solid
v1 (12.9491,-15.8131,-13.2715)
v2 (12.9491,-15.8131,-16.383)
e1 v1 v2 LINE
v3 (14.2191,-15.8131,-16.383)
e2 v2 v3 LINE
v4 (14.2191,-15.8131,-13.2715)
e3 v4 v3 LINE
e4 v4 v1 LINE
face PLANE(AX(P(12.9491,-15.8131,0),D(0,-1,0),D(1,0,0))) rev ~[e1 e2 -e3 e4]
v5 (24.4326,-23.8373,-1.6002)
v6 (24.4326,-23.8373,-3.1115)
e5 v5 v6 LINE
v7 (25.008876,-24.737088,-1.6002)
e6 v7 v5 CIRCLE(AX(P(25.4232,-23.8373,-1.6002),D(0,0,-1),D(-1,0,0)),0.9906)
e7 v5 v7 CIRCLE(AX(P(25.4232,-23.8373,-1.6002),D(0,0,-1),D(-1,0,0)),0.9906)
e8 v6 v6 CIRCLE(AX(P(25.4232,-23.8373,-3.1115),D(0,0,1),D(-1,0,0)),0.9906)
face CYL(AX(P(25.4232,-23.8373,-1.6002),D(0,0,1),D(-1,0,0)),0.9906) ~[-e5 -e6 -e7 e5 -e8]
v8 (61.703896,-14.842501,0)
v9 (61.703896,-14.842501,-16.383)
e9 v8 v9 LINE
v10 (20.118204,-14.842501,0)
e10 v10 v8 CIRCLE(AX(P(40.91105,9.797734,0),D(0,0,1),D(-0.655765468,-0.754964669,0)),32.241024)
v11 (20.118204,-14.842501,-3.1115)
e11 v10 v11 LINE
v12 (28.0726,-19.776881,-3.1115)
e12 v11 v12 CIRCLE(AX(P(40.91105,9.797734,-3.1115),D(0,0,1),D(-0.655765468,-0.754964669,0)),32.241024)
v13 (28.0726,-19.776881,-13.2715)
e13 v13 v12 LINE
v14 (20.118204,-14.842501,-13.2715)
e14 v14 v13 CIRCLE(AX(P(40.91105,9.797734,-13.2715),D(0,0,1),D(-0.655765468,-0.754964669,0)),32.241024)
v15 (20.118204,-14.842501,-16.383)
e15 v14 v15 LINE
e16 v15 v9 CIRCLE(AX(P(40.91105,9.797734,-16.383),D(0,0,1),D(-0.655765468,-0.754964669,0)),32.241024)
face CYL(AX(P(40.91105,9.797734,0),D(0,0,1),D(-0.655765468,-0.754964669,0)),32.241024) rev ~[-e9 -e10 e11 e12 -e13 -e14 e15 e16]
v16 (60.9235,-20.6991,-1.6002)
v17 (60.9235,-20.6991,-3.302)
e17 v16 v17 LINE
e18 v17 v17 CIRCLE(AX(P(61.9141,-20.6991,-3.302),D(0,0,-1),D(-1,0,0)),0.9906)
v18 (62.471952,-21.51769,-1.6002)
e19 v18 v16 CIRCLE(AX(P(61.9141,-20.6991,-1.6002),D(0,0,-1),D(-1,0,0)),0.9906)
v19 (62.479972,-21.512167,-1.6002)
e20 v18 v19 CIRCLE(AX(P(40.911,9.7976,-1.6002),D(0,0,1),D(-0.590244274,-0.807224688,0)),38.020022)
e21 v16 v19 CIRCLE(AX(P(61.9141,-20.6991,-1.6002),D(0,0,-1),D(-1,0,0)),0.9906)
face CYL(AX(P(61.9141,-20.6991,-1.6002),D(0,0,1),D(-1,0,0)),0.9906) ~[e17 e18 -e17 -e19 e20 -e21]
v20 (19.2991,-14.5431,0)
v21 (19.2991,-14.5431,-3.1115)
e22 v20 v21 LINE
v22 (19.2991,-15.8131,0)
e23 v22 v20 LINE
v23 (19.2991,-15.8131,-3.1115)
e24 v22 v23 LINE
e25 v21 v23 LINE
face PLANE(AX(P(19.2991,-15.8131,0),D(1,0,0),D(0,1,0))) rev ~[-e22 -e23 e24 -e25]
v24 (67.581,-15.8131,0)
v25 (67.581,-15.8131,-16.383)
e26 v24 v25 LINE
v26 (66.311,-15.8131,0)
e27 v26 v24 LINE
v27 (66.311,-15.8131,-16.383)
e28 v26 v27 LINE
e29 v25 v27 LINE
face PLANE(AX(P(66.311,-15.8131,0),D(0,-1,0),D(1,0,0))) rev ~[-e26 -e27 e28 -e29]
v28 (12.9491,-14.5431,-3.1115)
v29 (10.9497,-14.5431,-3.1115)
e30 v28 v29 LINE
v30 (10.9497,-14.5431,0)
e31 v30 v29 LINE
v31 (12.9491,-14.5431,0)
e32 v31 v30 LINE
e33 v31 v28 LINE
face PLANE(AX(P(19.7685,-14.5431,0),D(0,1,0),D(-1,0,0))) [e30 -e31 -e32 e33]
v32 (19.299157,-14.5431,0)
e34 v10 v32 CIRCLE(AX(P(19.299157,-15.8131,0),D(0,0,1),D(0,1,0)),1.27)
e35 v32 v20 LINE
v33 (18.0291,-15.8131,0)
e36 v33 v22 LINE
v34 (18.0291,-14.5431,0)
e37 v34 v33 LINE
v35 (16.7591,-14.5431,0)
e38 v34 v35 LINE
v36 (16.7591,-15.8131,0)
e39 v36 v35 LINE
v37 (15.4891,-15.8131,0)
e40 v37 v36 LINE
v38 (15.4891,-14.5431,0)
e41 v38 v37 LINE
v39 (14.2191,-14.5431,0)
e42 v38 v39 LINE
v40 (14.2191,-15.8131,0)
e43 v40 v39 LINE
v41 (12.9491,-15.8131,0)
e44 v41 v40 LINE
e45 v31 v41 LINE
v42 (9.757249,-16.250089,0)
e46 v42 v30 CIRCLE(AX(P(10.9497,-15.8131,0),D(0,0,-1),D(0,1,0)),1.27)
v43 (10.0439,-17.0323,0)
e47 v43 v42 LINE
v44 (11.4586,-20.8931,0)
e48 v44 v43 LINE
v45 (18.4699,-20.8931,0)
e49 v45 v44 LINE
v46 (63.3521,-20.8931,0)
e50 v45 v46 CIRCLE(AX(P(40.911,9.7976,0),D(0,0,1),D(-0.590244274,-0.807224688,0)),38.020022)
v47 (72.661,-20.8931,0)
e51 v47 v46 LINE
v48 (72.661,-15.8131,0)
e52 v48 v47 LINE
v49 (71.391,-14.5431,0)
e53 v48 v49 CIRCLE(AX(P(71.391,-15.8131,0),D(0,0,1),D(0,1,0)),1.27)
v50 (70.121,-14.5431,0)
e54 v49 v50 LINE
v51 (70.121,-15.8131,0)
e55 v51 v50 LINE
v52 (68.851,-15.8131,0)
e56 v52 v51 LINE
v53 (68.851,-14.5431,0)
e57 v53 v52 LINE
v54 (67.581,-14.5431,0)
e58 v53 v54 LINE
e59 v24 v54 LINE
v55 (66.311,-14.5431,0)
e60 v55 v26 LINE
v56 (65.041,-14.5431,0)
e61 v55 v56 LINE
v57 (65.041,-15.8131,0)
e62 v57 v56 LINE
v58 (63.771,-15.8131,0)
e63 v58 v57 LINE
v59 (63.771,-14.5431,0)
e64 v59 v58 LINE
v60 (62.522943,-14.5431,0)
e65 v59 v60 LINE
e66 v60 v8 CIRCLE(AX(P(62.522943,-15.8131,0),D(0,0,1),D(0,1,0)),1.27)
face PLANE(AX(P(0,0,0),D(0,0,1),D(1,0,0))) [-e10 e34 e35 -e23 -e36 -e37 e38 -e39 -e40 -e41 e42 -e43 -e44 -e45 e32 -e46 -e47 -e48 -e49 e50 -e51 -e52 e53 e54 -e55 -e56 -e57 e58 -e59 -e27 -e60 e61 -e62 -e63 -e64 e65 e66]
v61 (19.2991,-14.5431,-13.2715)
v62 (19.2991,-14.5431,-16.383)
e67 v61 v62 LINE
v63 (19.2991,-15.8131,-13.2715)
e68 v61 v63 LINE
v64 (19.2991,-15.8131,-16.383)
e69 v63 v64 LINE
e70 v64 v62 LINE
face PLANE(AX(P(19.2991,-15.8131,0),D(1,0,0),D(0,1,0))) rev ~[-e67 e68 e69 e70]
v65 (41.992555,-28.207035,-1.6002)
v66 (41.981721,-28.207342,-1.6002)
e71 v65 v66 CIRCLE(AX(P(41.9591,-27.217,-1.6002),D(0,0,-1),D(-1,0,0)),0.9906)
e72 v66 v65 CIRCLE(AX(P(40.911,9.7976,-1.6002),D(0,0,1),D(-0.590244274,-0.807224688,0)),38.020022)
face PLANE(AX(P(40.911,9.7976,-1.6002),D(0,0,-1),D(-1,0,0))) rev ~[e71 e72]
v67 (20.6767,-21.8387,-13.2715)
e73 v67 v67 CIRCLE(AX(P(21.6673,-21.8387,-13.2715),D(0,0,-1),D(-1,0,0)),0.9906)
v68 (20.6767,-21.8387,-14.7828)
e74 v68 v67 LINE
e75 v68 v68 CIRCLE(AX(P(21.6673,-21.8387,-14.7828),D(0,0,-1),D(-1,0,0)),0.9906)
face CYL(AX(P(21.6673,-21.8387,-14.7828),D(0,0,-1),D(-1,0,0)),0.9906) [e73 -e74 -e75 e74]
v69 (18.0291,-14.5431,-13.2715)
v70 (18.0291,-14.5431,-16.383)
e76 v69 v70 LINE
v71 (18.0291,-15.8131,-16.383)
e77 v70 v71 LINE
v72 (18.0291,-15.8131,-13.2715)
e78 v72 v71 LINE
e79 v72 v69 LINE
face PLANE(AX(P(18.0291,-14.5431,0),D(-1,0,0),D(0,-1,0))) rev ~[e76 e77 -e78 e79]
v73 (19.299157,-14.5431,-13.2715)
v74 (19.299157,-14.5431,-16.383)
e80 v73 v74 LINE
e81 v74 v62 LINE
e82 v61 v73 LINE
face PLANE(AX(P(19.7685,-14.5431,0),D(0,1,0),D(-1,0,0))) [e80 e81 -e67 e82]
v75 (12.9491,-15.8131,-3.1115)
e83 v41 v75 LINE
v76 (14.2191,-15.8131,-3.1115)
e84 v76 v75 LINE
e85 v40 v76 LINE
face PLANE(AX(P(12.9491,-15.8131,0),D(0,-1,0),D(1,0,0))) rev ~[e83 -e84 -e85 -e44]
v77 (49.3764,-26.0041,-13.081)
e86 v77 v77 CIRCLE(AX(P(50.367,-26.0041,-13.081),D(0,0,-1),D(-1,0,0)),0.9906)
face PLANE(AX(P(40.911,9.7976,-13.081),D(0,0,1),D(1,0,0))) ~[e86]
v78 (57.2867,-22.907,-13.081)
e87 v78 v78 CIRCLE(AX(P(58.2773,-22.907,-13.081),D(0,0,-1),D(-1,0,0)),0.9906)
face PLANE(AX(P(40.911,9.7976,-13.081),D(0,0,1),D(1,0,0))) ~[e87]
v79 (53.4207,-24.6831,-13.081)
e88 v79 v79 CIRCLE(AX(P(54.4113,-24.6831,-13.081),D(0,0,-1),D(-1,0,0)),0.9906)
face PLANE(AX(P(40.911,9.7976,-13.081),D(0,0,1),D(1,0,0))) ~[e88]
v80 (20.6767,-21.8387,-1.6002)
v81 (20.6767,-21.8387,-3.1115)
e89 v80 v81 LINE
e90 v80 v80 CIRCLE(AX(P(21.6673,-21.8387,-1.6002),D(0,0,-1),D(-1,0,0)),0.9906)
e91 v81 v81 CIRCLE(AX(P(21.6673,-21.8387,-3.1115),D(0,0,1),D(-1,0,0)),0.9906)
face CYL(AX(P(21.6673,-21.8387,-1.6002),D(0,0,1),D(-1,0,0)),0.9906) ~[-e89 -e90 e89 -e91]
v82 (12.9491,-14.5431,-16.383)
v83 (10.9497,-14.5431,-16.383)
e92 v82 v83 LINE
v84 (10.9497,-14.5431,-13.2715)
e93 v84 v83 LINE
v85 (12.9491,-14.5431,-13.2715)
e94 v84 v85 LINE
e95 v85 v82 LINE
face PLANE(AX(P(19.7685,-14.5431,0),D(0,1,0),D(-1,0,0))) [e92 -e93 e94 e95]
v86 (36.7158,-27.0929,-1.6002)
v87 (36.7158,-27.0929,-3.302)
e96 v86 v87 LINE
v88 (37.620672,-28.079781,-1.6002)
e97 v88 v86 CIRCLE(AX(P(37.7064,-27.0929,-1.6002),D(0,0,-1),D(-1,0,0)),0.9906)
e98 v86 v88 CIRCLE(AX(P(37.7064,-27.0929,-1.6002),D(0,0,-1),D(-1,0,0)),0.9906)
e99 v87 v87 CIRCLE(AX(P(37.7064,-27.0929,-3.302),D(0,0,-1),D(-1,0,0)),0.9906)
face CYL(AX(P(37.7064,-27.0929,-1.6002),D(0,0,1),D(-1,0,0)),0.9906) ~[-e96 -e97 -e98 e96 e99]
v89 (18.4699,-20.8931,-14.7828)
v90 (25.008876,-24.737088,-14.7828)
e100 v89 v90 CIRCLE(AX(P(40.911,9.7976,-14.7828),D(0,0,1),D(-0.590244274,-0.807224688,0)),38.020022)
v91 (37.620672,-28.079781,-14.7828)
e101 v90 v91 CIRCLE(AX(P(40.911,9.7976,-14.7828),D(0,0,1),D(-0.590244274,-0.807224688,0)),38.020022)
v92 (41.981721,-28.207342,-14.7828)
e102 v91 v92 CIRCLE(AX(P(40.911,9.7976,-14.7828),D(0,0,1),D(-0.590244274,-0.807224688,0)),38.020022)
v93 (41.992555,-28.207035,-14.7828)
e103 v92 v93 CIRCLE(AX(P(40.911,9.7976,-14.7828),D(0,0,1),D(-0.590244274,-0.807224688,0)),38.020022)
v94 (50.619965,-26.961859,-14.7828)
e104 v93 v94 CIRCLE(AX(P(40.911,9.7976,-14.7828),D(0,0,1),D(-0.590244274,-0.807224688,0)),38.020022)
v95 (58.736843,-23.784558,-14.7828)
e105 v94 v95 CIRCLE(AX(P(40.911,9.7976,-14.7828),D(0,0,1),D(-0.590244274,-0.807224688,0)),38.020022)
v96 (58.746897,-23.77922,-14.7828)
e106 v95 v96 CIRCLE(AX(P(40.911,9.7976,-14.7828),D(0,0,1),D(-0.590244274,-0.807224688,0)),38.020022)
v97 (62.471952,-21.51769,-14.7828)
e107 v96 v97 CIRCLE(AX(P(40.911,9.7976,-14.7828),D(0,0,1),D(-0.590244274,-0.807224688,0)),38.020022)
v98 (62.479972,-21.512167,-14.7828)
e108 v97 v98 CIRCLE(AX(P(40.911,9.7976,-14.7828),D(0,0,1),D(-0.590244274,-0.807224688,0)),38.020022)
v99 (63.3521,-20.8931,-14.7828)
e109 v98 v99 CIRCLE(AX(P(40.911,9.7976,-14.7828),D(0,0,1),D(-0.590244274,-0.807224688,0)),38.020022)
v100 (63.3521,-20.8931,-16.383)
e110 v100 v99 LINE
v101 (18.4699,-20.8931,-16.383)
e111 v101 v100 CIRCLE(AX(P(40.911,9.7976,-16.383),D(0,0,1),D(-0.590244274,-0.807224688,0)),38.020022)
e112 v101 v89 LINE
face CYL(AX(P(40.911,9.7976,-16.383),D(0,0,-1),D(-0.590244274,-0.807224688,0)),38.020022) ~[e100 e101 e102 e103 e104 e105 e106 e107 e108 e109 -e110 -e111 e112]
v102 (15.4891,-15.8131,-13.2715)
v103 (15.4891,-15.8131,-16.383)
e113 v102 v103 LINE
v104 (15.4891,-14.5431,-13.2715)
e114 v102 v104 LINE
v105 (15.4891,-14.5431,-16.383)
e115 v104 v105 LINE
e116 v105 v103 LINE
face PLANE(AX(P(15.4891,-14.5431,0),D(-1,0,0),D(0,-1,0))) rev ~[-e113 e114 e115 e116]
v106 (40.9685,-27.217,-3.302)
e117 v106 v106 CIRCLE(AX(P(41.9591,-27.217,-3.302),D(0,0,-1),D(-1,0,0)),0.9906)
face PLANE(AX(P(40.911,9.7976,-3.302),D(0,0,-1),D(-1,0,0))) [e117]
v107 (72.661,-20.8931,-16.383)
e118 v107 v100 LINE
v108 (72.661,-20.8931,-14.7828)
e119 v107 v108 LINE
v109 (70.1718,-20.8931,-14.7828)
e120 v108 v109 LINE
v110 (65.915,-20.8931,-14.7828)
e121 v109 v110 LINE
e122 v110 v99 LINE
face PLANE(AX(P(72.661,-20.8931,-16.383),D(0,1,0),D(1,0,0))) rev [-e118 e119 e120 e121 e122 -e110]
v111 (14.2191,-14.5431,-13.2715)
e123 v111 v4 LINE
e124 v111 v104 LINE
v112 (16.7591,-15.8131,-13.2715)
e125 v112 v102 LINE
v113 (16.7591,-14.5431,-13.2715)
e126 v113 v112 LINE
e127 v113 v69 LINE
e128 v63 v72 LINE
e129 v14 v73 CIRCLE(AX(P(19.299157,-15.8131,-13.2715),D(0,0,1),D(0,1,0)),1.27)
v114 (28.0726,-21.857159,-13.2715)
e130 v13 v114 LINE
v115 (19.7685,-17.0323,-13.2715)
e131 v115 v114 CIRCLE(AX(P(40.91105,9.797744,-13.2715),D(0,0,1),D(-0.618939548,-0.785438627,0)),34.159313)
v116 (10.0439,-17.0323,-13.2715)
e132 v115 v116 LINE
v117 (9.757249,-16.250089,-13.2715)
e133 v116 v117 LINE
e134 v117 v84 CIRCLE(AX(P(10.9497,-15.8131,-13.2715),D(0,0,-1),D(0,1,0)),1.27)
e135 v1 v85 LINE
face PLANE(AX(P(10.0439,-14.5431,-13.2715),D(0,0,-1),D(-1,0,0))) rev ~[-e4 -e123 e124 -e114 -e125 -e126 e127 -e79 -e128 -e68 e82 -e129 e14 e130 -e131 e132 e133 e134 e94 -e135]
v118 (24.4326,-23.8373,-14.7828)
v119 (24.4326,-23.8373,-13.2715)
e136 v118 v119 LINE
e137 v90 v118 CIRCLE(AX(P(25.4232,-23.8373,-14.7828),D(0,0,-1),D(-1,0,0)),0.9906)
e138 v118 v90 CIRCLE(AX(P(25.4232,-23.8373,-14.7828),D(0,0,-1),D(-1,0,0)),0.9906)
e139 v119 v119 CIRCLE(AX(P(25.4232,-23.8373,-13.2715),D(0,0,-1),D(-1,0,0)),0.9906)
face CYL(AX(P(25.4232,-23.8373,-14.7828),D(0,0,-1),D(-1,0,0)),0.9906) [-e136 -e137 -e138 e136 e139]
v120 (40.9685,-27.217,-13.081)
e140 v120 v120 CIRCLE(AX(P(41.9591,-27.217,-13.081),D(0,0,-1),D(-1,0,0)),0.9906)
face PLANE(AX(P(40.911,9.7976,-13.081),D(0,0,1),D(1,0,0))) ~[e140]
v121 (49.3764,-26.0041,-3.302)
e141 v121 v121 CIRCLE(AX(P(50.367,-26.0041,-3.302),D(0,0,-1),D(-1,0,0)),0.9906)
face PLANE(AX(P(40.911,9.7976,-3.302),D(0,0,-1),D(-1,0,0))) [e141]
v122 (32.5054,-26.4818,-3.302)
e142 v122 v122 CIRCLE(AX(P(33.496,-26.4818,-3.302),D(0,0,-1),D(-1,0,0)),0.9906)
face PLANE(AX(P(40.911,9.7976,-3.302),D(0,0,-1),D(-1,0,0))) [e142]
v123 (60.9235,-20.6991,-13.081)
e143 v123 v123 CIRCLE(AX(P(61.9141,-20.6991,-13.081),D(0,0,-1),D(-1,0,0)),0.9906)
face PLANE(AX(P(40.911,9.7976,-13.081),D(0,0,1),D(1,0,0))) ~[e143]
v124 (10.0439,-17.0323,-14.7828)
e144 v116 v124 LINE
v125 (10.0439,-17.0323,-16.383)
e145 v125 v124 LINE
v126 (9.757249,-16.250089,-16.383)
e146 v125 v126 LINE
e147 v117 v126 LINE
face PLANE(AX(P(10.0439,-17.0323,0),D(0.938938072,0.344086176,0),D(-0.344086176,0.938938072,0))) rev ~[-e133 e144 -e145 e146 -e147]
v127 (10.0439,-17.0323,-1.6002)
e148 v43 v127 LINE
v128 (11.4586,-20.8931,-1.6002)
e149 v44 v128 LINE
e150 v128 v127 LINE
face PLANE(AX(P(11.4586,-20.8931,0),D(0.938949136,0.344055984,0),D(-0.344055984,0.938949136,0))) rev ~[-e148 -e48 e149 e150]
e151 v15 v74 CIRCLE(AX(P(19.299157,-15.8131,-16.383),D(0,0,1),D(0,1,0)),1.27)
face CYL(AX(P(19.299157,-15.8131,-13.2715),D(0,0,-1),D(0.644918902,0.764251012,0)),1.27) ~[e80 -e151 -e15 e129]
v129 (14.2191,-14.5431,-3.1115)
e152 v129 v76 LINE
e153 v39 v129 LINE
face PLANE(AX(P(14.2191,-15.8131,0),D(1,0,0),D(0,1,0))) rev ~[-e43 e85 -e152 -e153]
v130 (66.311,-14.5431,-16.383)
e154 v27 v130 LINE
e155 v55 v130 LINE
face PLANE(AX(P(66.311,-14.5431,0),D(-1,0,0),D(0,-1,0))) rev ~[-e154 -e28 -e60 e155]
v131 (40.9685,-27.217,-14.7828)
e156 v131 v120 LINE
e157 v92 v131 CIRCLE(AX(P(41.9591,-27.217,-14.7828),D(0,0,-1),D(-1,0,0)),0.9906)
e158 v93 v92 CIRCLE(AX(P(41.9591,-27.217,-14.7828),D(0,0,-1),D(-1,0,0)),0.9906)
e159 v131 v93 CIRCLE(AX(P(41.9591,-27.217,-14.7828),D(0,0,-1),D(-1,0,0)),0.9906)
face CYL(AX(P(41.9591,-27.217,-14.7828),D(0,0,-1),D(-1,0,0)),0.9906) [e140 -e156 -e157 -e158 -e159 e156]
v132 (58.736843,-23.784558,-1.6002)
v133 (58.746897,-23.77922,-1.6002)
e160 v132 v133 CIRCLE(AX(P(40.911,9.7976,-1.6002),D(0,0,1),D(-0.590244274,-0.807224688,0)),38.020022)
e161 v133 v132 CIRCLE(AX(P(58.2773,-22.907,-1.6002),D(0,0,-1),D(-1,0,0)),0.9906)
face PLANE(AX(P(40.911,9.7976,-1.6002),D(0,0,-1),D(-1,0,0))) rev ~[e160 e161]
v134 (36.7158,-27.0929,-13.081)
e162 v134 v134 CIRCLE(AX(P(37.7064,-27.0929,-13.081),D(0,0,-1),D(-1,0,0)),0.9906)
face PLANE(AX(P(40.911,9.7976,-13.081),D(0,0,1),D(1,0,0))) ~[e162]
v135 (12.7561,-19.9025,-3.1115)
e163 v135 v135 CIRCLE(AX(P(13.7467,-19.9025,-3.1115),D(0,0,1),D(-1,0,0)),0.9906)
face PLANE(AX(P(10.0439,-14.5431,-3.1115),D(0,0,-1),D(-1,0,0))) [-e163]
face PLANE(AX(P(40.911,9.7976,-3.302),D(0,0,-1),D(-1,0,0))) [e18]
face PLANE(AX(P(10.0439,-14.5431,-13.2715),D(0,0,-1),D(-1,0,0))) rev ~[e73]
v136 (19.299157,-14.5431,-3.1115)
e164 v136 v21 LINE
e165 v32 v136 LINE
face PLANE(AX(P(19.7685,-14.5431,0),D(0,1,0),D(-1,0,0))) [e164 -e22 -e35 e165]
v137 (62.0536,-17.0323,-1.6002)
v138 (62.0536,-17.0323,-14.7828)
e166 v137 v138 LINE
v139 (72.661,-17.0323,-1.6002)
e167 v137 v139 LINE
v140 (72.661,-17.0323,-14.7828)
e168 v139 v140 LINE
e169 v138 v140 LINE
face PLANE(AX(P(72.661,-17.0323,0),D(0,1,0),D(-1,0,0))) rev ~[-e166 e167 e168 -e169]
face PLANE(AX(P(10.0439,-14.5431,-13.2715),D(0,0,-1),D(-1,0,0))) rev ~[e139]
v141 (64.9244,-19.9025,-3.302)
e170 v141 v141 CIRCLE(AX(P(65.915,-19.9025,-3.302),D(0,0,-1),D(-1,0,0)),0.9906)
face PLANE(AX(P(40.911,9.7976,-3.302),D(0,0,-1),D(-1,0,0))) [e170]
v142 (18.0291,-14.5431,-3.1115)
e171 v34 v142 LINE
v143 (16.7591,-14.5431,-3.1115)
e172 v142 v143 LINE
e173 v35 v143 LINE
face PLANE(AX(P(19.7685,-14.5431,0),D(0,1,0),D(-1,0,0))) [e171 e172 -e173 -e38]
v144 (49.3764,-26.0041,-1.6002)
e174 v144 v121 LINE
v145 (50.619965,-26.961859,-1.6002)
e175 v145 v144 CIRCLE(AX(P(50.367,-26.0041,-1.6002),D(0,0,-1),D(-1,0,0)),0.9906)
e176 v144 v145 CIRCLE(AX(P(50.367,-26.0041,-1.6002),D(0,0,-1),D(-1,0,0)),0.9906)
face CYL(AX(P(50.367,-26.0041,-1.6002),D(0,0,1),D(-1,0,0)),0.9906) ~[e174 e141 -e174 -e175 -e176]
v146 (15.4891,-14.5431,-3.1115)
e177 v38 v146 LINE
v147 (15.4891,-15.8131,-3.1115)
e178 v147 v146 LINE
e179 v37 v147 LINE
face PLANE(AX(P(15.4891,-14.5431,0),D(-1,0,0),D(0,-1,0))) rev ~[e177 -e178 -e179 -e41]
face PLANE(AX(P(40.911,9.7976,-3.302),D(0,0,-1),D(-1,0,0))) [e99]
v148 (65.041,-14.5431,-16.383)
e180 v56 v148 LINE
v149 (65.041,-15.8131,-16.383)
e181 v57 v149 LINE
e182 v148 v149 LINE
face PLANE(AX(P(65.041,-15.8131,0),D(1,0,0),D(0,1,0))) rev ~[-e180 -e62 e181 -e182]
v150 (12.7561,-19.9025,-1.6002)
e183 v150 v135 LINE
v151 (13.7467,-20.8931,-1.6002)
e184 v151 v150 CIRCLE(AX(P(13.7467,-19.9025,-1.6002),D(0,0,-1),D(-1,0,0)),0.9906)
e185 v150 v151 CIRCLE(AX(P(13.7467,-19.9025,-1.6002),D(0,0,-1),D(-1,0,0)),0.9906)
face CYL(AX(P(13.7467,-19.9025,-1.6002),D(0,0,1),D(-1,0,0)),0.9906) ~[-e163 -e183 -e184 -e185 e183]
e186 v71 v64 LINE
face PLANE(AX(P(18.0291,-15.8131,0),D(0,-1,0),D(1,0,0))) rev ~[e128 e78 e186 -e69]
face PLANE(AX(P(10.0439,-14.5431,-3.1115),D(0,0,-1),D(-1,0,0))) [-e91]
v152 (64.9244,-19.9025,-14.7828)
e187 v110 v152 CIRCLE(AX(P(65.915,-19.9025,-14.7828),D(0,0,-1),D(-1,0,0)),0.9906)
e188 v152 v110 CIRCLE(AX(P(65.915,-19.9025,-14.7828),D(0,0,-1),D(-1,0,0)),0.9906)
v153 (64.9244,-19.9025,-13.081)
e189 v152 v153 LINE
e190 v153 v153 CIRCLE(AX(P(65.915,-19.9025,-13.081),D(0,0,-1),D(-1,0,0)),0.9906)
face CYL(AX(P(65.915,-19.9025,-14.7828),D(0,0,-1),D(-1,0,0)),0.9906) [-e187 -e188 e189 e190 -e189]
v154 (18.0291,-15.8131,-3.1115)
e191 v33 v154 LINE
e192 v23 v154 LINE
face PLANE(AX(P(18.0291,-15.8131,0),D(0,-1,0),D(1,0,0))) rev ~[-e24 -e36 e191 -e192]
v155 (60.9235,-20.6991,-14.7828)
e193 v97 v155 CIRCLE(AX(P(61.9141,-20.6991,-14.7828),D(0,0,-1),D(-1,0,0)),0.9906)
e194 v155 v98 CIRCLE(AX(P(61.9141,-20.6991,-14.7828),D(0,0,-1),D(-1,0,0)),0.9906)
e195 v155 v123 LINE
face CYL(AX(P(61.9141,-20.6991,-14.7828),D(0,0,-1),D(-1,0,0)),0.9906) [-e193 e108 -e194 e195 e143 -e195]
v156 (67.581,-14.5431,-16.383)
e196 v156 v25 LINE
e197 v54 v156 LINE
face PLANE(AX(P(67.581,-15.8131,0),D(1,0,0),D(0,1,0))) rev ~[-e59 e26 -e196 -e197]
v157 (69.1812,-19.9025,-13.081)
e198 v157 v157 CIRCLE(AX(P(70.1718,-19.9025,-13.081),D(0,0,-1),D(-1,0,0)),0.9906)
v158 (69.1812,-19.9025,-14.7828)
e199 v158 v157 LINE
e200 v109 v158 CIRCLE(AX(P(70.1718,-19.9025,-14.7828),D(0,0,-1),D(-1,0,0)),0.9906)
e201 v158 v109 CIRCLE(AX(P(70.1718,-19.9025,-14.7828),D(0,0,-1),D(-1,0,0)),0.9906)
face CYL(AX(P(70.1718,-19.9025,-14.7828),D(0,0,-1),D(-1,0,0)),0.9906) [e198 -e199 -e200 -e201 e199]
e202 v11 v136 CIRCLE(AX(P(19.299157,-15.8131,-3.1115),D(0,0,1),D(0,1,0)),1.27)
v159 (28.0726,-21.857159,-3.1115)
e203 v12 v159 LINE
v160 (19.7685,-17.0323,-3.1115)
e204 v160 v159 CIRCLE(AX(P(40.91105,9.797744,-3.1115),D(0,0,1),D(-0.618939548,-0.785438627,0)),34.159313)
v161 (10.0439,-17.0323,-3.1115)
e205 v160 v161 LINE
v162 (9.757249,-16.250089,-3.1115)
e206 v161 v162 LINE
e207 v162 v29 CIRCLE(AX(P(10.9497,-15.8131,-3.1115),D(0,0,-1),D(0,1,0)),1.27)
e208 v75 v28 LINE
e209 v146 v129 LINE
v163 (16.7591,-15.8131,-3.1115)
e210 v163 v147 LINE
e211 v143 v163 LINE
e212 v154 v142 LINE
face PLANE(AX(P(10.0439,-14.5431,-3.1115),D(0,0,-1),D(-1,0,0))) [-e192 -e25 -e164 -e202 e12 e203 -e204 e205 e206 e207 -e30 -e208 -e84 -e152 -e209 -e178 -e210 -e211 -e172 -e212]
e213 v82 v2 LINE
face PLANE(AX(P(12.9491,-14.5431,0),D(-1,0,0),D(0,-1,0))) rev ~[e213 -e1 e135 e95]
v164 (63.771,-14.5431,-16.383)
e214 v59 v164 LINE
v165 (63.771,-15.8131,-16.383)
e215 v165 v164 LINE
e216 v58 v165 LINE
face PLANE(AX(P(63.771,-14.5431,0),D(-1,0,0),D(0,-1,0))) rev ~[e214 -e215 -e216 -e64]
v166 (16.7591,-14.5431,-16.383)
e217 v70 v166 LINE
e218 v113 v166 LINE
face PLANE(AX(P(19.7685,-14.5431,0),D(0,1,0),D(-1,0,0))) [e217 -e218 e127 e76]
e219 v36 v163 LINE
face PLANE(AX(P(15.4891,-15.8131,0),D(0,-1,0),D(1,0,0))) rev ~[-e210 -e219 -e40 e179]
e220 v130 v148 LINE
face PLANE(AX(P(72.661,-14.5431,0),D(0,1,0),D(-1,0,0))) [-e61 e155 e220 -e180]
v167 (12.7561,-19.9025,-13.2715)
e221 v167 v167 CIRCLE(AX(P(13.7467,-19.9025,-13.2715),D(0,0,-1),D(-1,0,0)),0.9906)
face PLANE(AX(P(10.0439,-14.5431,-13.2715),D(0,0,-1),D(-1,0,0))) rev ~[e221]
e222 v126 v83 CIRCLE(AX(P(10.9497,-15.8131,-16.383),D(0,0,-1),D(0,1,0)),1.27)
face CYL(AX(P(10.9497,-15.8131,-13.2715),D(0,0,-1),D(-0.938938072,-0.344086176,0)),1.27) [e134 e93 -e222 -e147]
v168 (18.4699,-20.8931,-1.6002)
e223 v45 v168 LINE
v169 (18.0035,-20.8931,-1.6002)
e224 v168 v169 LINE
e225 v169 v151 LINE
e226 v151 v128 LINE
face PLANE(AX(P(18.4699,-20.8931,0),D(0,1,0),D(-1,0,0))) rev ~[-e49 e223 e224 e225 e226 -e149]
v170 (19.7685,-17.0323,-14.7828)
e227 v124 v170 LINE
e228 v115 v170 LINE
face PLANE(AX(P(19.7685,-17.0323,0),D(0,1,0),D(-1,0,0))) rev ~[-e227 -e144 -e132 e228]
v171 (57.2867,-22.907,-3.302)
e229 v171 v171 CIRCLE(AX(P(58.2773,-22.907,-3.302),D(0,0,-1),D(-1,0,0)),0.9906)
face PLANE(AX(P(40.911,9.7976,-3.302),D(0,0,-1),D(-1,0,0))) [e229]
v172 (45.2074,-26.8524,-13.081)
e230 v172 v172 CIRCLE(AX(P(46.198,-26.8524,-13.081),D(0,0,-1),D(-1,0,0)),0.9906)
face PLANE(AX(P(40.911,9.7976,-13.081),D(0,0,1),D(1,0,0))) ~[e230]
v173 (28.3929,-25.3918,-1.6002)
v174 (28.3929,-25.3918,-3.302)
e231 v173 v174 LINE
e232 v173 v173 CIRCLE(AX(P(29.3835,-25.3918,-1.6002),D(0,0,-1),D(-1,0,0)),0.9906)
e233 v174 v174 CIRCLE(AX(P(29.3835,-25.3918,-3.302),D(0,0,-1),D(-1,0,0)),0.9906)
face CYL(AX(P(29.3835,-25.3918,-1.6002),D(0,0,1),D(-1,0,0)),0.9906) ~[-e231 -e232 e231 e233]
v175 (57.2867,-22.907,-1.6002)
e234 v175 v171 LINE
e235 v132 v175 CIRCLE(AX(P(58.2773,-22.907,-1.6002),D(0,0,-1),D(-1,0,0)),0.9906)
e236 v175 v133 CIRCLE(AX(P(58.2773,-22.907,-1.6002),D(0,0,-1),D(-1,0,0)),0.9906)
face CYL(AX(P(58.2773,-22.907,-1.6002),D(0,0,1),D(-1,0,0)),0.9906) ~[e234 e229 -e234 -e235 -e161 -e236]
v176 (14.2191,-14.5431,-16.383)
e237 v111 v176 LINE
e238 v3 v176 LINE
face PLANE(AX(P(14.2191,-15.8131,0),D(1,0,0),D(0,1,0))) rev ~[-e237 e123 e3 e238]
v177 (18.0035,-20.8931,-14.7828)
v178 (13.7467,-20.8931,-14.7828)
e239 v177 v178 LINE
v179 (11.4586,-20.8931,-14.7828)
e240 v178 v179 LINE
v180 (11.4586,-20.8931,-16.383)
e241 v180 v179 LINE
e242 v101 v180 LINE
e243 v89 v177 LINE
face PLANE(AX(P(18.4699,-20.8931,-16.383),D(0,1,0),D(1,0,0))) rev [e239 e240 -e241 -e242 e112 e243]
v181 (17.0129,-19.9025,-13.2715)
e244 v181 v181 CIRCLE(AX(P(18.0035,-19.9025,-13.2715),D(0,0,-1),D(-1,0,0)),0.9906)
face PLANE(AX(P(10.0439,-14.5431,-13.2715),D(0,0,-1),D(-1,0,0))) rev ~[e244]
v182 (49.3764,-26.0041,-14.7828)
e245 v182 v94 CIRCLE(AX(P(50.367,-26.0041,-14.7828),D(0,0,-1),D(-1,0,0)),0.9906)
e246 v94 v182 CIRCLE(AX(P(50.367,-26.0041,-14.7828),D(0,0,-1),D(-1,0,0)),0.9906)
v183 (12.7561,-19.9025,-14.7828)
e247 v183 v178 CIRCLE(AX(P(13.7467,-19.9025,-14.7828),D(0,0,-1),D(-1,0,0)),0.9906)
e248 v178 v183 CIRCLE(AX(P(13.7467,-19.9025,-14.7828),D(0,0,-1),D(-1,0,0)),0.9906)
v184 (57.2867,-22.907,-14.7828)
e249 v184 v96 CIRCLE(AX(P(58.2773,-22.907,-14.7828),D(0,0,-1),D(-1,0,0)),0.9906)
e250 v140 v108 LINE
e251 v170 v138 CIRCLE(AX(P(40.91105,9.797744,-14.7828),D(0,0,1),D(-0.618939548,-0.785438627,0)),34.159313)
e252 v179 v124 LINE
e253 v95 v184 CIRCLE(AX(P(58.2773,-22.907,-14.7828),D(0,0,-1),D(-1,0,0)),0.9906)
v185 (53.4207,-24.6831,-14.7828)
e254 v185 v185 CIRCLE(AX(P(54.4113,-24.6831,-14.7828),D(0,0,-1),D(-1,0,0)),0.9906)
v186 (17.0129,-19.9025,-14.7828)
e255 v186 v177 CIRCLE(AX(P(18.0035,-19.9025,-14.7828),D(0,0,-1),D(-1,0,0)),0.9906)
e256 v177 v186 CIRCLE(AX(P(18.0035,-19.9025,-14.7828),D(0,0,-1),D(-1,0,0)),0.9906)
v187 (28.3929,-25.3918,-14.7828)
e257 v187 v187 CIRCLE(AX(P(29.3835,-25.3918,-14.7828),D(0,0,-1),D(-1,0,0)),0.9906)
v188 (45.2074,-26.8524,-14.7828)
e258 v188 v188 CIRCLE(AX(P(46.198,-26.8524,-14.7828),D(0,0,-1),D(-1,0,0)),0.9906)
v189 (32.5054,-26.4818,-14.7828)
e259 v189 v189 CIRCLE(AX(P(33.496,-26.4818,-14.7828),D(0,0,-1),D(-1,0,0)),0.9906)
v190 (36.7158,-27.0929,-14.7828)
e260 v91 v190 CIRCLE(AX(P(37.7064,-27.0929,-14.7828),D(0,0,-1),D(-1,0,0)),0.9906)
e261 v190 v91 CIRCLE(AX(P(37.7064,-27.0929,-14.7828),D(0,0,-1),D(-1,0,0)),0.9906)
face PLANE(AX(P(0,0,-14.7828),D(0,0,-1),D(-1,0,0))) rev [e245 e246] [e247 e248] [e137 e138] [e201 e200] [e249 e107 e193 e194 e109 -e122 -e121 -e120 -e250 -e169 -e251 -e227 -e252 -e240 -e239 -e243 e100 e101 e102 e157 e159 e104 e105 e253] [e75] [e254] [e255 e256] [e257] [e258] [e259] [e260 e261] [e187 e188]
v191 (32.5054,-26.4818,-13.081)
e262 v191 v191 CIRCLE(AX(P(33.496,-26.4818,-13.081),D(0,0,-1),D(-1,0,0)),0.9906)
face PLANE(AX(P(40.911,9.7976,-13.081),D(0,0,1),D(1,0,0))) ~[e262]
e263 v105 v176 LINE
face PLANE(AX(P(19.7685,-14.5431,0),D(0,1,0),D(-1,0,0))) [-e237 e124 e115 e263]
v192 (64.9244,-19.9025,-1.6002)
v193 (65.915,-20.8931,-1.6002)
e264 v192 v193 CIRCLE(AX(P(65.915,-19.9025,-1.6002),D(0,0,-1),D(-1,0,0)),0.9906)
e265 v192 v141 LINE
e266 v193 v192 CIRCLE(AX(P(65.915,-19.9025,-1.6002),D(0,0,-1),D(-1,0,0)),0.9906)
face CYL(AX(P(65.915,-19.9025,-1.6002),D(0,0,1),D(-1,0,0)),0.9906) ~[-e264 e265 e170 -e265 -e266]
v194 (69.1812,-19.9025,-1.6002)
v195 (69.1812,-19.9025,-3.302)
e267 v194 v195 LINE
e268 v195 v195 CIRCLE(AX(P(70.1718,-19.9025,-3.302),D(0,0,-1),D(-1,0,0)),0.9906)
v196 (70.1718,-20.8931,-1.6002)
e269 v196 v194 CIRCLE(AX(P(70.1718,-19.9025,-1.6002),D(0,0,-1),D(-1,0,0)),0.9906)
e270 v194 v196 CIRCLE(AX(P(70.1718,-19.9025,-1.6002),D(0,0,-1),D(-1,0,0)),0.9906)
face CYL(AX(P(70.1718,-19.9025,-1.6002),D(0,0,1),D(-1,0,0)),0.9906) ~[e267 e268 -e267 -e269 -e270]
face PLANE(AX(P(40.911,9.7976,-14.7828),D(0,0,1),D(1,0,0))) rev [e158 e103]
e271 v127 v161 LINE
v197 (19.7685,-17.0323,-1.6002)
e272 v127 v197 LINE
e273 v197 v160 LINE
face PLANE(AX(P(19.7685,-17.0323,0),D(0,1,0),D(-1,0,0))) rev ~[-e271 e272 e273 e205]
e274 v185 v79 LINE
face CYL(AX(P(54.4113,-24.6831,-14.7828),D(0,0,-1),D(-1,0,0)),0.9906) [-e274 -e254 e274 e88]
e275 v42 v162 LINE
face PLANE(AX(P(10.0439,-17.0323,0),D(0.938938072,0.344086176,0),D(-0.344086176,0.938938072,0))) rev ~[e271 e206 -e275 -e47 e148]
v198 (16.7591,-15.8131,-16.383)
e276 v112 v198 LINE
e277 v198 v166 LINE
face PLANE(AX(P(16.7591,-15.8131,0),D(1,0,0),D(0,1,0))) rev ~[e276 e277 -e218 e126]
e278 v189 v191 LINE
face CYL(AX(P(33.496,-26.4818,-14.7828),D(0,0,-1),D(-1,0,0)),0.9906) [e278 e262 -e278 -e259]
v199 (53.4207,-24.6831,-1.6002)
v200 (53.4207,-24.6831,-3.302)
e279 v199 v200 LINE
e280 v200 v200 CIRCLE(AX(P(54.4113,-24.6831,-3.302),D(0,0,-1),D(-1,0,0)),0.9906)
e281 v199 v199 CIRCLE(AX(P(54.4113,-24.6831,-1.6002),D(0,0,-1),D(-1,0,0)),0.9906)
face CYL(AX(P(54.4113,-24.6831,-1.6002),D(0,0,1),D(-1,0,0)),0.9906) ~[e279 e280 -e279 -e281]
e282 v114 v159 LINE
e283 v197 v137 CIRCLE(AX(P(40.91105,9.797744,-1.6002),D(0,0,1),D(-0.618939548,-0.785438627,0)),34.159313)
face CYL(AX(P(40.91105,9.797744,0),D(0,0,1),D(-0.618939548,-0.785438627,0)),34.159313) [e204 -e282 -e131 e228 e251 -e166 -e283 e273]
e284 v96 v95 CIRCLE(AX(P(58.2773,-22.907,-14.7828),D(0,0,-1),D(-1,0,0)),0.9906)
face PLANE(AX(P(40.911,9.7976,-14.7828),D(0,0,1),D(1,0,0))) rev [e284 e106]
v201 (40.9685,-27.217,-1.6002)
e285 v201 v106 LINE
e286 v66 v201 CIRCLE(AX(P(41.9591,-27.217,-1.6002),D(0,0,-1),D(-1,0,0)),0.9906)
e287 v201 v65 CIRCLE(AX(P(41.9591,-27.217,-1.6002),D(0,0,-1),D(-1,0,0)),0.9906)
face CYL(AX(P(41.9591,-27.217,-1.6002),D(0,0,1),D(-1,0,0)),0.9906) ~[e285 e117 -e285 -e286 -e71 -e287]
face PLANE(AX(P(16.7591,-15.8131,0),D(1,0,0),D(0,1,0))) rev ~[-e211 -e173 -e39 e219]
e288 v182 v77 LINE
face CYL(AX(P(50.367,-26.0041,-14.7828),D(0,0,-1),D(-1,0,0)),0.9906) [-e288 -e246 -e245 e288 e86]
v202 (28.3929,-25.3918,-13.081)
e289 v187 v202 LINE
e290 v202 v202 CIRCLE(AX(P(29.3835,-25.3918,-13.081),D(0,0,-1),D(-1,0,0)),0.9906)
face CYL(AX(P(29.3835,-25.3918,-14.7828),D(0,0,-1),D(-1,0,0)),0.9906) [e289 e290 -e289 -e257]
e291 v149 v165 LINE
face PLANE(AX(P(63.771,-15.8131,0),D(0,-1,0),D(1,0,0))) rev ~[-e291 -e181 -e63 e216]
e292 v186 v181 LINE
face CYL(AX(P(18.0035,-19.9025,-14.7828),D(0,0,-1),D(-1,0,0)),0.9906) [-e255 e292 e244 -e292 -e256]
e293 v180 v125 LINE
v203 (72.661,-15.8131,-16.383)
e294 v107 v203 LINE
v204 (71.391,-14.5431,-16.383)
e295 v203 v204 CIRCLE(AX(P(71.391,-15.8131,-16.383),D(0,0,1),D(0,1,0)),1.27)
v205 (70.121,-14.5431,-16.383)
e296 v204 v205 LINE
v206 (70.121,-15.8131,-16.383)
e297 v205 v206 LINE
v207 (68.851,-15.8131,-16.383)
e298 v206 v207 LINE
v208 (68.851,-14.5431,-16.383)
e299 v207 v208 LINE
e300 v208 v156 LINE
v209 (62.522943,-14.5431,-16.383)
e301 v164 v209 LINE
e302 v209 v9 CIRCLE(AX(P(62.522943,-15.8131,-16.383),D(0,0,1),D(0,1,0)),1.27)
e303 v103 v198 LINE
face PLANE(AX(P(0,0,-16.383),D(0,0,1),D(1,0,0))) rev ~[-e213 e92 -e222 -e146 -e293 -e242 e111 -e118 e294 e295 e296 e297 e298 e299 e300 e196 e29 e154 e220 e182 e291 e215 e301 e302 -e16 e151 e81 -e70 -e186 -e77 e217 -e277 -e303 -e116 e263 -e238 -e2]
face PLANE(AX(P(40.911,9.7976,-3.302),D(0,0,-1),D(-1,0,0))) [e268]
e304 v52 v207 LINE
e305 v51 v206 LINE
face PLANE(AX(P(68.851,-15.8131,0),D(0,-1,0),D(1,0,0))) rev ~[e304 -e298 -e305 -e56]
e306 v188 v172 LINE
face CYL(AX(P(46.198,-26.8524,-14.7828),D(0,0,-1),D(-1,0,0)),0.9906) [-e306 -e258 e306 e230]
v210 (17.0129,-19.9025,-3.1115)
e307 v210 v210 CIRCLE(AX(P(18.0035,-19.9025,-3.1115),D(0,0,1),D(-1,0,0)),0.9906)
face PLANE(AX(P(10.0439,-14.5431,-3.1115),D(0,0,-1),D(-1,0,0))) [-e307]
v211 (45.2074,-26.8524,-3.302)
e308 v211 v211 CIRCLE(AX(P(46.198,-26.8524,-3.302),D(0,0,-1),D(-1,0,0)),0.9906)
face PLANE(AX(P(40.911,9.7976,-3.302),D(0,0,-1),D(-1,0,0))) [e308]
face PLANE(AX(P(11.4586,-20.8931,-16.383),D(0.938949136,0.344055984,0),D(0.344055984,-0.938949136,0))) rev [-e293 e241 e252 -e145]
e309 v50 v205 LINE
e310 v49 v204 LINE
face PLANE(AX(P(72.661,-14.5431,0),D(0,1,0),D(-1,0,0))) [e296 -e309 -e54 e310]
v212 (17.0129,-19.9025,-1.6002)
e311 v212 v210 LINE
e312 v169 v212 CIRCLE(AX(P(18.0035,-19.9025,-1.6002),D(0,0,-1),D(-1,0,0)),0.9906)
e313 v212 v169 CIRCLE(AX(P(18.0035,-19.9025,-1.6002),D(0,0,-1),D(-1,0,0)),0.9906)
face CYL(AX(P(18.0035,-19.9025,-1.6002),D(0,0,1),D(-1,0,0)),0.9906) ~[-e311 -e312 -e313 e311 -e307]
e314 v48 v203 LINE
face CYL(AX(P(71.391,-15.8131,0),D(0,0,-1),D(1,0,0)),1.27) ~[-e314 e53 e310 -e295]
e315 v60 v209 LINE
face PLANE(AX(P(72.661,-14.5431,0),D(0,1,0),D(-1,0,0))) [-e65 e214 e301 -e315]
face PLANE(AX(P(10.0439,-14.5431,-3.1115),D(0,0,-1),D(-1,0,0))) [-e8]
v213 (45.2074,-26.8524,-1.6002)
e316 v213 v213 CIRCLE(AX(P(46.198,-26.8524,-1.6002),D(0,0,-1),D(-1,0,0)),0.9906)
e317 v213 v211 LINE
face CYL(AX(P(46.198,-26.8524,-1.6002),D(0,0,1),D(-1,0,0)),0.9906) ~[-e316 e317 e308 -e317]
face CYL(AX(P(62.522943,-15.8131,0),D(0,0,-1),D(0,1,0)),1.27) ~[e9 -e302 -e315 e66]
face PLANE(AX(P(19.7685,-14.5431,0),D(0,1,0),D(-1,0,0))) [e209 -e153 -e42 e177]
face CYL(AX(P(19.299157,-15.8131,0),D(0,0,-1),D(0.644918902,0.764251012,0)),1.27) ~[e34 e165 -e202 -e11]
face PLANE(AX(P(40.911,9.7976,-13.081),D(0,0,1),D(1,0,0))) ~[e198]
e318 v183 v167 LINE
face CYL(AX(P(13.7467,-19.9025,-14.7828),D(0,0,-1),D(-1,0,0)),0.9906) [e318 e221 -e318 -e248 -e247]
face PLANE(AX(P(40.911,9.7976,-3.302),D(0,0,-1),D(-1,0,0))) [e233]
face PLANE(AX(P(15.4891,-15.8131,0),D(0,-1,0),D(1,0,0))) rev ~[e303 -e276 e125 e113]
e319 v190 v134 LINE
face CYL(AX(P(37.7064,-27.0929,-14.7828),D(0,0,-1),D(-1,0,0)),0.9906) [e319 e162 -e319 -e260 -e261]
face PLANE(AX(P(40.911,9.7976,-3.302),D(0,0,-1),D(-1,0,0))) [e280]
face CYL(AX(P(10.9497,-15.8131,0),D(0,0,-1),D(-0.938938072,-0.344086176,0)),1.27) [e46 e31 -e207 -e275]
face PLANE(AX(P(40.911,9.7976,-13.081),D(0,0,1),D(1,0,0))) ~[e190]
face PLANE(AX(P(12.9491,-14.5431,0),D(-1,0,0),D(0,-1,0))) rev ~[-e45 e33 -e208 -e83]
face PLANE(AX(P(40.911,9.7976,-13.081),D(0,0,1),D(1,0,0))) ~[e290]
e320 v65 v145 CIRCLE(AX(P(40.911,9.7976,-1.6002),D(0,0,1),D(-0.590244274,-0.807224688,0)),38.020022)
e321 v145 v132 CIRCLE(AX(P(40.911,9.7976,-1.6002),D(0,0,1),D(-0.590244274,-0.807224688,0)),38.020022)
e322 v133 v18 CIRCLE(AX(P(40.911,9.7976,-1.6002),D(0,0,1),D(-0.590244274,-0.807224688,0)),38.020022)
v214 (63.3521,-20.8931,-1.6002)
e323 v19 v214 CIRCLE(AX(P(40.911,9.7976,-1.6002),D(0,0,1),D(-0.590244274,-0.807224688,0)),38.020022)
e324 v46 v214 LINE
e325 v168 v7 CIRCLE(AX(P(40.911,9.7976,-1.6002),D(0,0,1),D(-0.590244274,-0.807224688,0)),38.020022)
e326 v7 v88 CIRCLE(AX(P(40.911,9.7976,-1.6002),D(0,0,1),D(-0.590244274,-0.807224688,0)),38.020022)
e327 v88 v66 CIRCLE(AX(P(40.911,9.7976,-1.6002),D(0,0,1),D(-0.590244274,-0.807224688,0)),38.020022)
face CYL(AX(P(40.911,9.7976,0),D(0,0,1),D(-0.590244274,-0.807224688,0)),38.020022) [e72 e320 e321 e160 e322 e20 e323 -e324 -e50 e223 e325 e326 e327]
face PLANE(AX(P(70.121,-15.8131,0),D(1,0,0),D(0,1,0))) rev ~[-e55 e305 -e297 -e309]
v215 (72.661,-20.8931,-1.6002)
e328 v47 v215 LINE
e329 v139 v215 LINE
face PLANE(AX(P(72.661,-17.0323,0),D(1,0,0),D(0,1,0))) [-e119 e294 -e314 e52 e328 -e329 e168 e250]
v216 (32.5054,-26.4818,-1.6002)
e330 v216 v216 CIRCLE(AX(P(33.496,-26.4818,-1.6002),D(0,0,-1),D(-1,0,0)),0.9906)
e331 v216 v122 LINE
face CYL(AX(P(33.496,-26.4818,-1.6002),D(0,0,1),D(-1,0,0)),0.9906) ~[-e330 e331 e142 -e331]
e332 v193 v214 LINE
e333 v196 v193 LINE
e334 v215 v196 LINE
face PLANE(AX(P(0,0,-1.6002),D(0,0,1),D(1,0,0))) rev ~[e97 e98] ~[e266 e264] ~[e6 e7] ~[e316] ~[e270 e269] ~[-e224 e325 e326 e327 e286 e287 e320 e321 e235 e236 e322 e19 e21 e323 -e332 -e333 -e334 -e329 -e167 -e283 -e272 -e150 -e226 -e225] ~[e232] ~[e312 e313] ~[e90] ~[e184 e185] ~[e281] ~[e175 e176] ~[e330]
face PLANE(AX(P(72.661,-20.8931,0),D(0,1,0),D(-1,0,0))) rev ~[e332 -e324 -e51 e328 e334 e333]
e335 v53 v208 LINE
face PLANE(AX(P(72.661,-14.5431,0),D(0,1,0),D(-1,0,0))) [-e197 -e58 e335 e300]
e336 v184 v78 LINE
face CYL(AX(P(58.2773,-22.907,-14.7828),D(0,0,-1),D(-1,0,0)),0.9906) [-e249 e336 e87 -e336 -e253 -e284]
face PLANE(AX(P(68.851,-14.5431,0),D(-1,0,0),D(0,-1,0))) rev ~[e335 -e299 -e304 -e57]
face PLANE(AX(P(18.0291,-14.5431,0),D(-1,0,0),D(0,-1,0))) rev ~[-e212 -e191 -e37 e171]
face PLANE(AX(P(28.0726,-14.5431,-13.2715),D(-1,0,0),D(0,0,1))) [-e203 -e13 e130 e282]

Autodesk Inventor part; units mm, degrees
ref_plane "Work Plane2" through (0, 0, 0) normal (0, 0, 1) x (1, 0, 0)
sketch "Sketch3" plane through (0, 0, 0) normal (0, 0, 1) x (1, 0, 0)
  arc A0 (18.4699, -20.8931) -> (63.3521, -20.8931) centre (40.911, 9.7976) ccw projected
  line L0 (18.4699, -20.8931) -> (11.4586, -20.8931) projected
  line L1 (11.4586, -20.8931) -> (10.0439, -17.0323) projected
  line L2 (10.0439, -17.0323) -> (19.7685, -17.0323) projected
  arc A1 (19.7685, -17.0323) -> (62.0536, -17.0323) centre (40.911, 9.7976) ccw projected
  line L3 (62.0536, -17.0323) -> (72.661, -17.0323) projected
  line L4 (72.661, -17.0323) -> (72.661, -20.8931) projected
  line L5 (72.661, -20.8931) -> (63.3521, -20.8931) projected
  point P0 (0, 0)
ref_plane "Work Plane3" through (-19.825, 4.9027, -1.6002) normal (0, 0, 1) x (1, 0, 0)
extrude "Extrusion1" add sketch "Sketch3" against normal up to surface (1.6002 mm away)
sketch "Sketch4" plane through (40.911, 9.7976, -1.6002) normal (0, 0, -1) x (-1, 0, 0)
  circle A0 centre (-29.2608, -29.7001) radius 0.9906 projected
  circle A1 centre (-25.004, -29.7001) radius 0.9906 projected
  circle A2 centre (-21.0031, -30.4967) radius 0.9906 projected
  circle A3 centre (-17.3663, -32.7046) radius 0.9906 projected
  circle A4 centre (-13.5003, -34.4807) radius 0.9906 projected
  circle A5 centre (-9.456, -35.8017) radius 0.9906 projected
  circle A6 centre (-5.287, -36.65) radius 0.9906 projected
  circle A7 centre (-1.0481, -37.0146) radius 0.9906 projected
  circle A8 centre (-1.0481, -37.0146) radius 0.9906 projected
  circle A9 centre (3.2046, -36.8905) radius 0.9906 projected
  circle A10 centre (7.415, -36.2794) radius 0.9906 projected
  circle A11 centre (11.5275, -35.1894) radius 0.9906 projected
  circle A12 centre (15.4878, -33.6349) radius 0.9906 projected
  circle A13 centre (19.2437, -31.6363) radius 0.9906 projected
  circle A14 centre (22.9075, -29.7001) radius 0.9906 projected
  circle A15 centre (27.1643, -29.7001) radius 0.9906 projected
  point P0 (40.911, -9.7975)
ref_plane "Work Plane4" through (-39.3728, -16.3857, -3.302) normal (0, 0, -1) x (0, 1, 0)
extrude "Extrusion2" add sketch "Sketch4" along normal up to surface (1.7018 mm away)
ref_plane "Work Plane5" through (41.0844, 8.0897, -8.1915) normal (0, 0, -1) x (-1, 0, 0)
mirror "Mirror1" about plane through (41.0844, 8.0897, -8.1915) normal (0, 0, -1) of "Extrusion1", "Extrusion2"
sketch "Sketch6" plane through (0, 0, 0) normal (0, 0, 1) x (1, 0, 0)
  line L0 (63.3521, -20.8931) -> (72.661, -20.8931) projected
  line L1 (72.661, -17.0323) -> (62.0536, -17.0323) projected
  arc A0 (19.7685, -17.0323) -> (62.0536, -17.0323) centre (40.911, 9.7976) ccw projected
  line L2 (19.7685, -17.0323) -> (10.0439, -17.0323) projected
  line L3 (10.0439, -17.0323) -> (11.4586, -20.8931) projected
  line L4 (11.4586, -20.8931) -> (18.4699, -20.8931) projected
  line L5 (72.661, -17.0323) -> (72.661, -14.5431)
  line L6 (72.661, -14.5431) -> (62.0536, -14.5431)
  line L7 (10.0439, -17.0323) -> (9.1317, -14.5431)
  line L8 (19.7685, -14.5431) -> (9.1317, -14.5431)
  arc A1 (19.7685, -14.5431) -> (62.0536, -14.5431) centre (40.911, 9.7976) ccw
  point P0 (0, 0)
  dimension "d8" = 6.35
extrude "Extrusion3" add sketch "Sketch6" against normal up to surface (16.383 mm away)
sketch "Sketch7" plane through (9.1317, -14.5431, 0) normal (0, 1, 0) x (1, 0, 0)
  line L0 (0, 0) -> (0, 16.383) projected
  line L1 (10.6367, 0) -> (10.6367, 16.383) projected
  line L2 (10.6367, 3.1115) -> (0.9122, 3.1115) projected
  line L3 (18.9409, 3.1115) -> (10.6367, 3.1115) projected
  line L4 (18.9409, 13.2715) -> (18.9409, 3.1115) projected
  line L5 (10.6367, 13.2715) -> (18.9409, 13.2715) projected
  line L6 (0.9122, 13.2715) -> (10.6367, 13.2715) projected
  line L7 (0.9122, 3.1115) -> (0, 3.1115)
  line L8 (0.9122, 13.2715) -> (0, 13.2715)
  point P0 (-9.1317, 0)
ref_plane "Work Plane6" through (-30.3687, -13.9561, -13.462) normal (-0.2426, 0.9701, 0) x (0, 0, 1)
ref_plane "Work Plane7" through (-0.4999, -47.0812, -13.462) normal (-0.2426, 0.9701, 0) x (0, 0, 1)
extrude "Extrusion7" cut sketch "Sketch7" against normal up to surface surface through (-0.4999, -47.0812, -13.462) normal (-0.2426, 0.9701, 0)
fillet "Fillet1" radius 1.27 6 edges at (72.661, -14.5431, -8.1915) (62.0536, -14.5431, -8.1915) (19.7685, -14.5431, -14.8273) (19.7685, -14.5431, -1.5558) (9.1317, -14.5431, -1.5558) (9.1317, -14.5431, -14.8273)
sketch "Sketch8" plane through (0, 0, 0) normal (0, 0, 1) x (1, 0, 0)
  line L0 (71.391, -14.5431) -> (62.5229, -14.5431) projected
  line L1 (70.121, -14.5431) -> (68.851, -14.5431)
  line L2 (68.851, -14.5431) -> (68.851, -15.8131)
  line L3 (68.851, -15.8131) -> (70.121, -15.8131)
  line L4 (70.121, -15.8131) -> (70.121, -14.5431)
  point P0 (72.661, -15.8131)
  point P1 (0, 0)
  dimension "d14" = 1.27
  dimension "d15" = 2.54
  dimension "d16" = 1.27
extrude "Extrusion5" cut sketch "Sketch8" against normal up to next
pattern_linear "Rectangular Pattern1" count 3 spacing 2.54 along (-1, 0, 0) of "Extrusion5"
sketch "Sketch9" plane through (0, 0, 0) normal (0, 0, 1) x (1, 0, 0)
  line L0 (19.2991, -14.5431) -> (18.0291, -14.5431)
  line L1 (18.0291, -14.5431) -> (18.0291, -15.8131)
  line L2 (18.0291, -15.8131) -> (19.2991, -15.8131)
  line L3 (19.2991, -15.8131) -> (19.2991, -14.5431)
  point P0 (3.3198, 0.6098)
  point P1 (0, 0)
  dimension "d22" = 1.27
  dimension "d28" = 1.27
extrude "Extrusion6" cut sketch "Sketch9" against normal up to surface (16.383 mm away)
pattern_linear "Rectangular Pattern2" count 3 spacing 2.54 along (-1, 0, 0) of "Extrusion6"
equation "\"d28\" = d22"
properties part number "VEX Claw Gripper"
